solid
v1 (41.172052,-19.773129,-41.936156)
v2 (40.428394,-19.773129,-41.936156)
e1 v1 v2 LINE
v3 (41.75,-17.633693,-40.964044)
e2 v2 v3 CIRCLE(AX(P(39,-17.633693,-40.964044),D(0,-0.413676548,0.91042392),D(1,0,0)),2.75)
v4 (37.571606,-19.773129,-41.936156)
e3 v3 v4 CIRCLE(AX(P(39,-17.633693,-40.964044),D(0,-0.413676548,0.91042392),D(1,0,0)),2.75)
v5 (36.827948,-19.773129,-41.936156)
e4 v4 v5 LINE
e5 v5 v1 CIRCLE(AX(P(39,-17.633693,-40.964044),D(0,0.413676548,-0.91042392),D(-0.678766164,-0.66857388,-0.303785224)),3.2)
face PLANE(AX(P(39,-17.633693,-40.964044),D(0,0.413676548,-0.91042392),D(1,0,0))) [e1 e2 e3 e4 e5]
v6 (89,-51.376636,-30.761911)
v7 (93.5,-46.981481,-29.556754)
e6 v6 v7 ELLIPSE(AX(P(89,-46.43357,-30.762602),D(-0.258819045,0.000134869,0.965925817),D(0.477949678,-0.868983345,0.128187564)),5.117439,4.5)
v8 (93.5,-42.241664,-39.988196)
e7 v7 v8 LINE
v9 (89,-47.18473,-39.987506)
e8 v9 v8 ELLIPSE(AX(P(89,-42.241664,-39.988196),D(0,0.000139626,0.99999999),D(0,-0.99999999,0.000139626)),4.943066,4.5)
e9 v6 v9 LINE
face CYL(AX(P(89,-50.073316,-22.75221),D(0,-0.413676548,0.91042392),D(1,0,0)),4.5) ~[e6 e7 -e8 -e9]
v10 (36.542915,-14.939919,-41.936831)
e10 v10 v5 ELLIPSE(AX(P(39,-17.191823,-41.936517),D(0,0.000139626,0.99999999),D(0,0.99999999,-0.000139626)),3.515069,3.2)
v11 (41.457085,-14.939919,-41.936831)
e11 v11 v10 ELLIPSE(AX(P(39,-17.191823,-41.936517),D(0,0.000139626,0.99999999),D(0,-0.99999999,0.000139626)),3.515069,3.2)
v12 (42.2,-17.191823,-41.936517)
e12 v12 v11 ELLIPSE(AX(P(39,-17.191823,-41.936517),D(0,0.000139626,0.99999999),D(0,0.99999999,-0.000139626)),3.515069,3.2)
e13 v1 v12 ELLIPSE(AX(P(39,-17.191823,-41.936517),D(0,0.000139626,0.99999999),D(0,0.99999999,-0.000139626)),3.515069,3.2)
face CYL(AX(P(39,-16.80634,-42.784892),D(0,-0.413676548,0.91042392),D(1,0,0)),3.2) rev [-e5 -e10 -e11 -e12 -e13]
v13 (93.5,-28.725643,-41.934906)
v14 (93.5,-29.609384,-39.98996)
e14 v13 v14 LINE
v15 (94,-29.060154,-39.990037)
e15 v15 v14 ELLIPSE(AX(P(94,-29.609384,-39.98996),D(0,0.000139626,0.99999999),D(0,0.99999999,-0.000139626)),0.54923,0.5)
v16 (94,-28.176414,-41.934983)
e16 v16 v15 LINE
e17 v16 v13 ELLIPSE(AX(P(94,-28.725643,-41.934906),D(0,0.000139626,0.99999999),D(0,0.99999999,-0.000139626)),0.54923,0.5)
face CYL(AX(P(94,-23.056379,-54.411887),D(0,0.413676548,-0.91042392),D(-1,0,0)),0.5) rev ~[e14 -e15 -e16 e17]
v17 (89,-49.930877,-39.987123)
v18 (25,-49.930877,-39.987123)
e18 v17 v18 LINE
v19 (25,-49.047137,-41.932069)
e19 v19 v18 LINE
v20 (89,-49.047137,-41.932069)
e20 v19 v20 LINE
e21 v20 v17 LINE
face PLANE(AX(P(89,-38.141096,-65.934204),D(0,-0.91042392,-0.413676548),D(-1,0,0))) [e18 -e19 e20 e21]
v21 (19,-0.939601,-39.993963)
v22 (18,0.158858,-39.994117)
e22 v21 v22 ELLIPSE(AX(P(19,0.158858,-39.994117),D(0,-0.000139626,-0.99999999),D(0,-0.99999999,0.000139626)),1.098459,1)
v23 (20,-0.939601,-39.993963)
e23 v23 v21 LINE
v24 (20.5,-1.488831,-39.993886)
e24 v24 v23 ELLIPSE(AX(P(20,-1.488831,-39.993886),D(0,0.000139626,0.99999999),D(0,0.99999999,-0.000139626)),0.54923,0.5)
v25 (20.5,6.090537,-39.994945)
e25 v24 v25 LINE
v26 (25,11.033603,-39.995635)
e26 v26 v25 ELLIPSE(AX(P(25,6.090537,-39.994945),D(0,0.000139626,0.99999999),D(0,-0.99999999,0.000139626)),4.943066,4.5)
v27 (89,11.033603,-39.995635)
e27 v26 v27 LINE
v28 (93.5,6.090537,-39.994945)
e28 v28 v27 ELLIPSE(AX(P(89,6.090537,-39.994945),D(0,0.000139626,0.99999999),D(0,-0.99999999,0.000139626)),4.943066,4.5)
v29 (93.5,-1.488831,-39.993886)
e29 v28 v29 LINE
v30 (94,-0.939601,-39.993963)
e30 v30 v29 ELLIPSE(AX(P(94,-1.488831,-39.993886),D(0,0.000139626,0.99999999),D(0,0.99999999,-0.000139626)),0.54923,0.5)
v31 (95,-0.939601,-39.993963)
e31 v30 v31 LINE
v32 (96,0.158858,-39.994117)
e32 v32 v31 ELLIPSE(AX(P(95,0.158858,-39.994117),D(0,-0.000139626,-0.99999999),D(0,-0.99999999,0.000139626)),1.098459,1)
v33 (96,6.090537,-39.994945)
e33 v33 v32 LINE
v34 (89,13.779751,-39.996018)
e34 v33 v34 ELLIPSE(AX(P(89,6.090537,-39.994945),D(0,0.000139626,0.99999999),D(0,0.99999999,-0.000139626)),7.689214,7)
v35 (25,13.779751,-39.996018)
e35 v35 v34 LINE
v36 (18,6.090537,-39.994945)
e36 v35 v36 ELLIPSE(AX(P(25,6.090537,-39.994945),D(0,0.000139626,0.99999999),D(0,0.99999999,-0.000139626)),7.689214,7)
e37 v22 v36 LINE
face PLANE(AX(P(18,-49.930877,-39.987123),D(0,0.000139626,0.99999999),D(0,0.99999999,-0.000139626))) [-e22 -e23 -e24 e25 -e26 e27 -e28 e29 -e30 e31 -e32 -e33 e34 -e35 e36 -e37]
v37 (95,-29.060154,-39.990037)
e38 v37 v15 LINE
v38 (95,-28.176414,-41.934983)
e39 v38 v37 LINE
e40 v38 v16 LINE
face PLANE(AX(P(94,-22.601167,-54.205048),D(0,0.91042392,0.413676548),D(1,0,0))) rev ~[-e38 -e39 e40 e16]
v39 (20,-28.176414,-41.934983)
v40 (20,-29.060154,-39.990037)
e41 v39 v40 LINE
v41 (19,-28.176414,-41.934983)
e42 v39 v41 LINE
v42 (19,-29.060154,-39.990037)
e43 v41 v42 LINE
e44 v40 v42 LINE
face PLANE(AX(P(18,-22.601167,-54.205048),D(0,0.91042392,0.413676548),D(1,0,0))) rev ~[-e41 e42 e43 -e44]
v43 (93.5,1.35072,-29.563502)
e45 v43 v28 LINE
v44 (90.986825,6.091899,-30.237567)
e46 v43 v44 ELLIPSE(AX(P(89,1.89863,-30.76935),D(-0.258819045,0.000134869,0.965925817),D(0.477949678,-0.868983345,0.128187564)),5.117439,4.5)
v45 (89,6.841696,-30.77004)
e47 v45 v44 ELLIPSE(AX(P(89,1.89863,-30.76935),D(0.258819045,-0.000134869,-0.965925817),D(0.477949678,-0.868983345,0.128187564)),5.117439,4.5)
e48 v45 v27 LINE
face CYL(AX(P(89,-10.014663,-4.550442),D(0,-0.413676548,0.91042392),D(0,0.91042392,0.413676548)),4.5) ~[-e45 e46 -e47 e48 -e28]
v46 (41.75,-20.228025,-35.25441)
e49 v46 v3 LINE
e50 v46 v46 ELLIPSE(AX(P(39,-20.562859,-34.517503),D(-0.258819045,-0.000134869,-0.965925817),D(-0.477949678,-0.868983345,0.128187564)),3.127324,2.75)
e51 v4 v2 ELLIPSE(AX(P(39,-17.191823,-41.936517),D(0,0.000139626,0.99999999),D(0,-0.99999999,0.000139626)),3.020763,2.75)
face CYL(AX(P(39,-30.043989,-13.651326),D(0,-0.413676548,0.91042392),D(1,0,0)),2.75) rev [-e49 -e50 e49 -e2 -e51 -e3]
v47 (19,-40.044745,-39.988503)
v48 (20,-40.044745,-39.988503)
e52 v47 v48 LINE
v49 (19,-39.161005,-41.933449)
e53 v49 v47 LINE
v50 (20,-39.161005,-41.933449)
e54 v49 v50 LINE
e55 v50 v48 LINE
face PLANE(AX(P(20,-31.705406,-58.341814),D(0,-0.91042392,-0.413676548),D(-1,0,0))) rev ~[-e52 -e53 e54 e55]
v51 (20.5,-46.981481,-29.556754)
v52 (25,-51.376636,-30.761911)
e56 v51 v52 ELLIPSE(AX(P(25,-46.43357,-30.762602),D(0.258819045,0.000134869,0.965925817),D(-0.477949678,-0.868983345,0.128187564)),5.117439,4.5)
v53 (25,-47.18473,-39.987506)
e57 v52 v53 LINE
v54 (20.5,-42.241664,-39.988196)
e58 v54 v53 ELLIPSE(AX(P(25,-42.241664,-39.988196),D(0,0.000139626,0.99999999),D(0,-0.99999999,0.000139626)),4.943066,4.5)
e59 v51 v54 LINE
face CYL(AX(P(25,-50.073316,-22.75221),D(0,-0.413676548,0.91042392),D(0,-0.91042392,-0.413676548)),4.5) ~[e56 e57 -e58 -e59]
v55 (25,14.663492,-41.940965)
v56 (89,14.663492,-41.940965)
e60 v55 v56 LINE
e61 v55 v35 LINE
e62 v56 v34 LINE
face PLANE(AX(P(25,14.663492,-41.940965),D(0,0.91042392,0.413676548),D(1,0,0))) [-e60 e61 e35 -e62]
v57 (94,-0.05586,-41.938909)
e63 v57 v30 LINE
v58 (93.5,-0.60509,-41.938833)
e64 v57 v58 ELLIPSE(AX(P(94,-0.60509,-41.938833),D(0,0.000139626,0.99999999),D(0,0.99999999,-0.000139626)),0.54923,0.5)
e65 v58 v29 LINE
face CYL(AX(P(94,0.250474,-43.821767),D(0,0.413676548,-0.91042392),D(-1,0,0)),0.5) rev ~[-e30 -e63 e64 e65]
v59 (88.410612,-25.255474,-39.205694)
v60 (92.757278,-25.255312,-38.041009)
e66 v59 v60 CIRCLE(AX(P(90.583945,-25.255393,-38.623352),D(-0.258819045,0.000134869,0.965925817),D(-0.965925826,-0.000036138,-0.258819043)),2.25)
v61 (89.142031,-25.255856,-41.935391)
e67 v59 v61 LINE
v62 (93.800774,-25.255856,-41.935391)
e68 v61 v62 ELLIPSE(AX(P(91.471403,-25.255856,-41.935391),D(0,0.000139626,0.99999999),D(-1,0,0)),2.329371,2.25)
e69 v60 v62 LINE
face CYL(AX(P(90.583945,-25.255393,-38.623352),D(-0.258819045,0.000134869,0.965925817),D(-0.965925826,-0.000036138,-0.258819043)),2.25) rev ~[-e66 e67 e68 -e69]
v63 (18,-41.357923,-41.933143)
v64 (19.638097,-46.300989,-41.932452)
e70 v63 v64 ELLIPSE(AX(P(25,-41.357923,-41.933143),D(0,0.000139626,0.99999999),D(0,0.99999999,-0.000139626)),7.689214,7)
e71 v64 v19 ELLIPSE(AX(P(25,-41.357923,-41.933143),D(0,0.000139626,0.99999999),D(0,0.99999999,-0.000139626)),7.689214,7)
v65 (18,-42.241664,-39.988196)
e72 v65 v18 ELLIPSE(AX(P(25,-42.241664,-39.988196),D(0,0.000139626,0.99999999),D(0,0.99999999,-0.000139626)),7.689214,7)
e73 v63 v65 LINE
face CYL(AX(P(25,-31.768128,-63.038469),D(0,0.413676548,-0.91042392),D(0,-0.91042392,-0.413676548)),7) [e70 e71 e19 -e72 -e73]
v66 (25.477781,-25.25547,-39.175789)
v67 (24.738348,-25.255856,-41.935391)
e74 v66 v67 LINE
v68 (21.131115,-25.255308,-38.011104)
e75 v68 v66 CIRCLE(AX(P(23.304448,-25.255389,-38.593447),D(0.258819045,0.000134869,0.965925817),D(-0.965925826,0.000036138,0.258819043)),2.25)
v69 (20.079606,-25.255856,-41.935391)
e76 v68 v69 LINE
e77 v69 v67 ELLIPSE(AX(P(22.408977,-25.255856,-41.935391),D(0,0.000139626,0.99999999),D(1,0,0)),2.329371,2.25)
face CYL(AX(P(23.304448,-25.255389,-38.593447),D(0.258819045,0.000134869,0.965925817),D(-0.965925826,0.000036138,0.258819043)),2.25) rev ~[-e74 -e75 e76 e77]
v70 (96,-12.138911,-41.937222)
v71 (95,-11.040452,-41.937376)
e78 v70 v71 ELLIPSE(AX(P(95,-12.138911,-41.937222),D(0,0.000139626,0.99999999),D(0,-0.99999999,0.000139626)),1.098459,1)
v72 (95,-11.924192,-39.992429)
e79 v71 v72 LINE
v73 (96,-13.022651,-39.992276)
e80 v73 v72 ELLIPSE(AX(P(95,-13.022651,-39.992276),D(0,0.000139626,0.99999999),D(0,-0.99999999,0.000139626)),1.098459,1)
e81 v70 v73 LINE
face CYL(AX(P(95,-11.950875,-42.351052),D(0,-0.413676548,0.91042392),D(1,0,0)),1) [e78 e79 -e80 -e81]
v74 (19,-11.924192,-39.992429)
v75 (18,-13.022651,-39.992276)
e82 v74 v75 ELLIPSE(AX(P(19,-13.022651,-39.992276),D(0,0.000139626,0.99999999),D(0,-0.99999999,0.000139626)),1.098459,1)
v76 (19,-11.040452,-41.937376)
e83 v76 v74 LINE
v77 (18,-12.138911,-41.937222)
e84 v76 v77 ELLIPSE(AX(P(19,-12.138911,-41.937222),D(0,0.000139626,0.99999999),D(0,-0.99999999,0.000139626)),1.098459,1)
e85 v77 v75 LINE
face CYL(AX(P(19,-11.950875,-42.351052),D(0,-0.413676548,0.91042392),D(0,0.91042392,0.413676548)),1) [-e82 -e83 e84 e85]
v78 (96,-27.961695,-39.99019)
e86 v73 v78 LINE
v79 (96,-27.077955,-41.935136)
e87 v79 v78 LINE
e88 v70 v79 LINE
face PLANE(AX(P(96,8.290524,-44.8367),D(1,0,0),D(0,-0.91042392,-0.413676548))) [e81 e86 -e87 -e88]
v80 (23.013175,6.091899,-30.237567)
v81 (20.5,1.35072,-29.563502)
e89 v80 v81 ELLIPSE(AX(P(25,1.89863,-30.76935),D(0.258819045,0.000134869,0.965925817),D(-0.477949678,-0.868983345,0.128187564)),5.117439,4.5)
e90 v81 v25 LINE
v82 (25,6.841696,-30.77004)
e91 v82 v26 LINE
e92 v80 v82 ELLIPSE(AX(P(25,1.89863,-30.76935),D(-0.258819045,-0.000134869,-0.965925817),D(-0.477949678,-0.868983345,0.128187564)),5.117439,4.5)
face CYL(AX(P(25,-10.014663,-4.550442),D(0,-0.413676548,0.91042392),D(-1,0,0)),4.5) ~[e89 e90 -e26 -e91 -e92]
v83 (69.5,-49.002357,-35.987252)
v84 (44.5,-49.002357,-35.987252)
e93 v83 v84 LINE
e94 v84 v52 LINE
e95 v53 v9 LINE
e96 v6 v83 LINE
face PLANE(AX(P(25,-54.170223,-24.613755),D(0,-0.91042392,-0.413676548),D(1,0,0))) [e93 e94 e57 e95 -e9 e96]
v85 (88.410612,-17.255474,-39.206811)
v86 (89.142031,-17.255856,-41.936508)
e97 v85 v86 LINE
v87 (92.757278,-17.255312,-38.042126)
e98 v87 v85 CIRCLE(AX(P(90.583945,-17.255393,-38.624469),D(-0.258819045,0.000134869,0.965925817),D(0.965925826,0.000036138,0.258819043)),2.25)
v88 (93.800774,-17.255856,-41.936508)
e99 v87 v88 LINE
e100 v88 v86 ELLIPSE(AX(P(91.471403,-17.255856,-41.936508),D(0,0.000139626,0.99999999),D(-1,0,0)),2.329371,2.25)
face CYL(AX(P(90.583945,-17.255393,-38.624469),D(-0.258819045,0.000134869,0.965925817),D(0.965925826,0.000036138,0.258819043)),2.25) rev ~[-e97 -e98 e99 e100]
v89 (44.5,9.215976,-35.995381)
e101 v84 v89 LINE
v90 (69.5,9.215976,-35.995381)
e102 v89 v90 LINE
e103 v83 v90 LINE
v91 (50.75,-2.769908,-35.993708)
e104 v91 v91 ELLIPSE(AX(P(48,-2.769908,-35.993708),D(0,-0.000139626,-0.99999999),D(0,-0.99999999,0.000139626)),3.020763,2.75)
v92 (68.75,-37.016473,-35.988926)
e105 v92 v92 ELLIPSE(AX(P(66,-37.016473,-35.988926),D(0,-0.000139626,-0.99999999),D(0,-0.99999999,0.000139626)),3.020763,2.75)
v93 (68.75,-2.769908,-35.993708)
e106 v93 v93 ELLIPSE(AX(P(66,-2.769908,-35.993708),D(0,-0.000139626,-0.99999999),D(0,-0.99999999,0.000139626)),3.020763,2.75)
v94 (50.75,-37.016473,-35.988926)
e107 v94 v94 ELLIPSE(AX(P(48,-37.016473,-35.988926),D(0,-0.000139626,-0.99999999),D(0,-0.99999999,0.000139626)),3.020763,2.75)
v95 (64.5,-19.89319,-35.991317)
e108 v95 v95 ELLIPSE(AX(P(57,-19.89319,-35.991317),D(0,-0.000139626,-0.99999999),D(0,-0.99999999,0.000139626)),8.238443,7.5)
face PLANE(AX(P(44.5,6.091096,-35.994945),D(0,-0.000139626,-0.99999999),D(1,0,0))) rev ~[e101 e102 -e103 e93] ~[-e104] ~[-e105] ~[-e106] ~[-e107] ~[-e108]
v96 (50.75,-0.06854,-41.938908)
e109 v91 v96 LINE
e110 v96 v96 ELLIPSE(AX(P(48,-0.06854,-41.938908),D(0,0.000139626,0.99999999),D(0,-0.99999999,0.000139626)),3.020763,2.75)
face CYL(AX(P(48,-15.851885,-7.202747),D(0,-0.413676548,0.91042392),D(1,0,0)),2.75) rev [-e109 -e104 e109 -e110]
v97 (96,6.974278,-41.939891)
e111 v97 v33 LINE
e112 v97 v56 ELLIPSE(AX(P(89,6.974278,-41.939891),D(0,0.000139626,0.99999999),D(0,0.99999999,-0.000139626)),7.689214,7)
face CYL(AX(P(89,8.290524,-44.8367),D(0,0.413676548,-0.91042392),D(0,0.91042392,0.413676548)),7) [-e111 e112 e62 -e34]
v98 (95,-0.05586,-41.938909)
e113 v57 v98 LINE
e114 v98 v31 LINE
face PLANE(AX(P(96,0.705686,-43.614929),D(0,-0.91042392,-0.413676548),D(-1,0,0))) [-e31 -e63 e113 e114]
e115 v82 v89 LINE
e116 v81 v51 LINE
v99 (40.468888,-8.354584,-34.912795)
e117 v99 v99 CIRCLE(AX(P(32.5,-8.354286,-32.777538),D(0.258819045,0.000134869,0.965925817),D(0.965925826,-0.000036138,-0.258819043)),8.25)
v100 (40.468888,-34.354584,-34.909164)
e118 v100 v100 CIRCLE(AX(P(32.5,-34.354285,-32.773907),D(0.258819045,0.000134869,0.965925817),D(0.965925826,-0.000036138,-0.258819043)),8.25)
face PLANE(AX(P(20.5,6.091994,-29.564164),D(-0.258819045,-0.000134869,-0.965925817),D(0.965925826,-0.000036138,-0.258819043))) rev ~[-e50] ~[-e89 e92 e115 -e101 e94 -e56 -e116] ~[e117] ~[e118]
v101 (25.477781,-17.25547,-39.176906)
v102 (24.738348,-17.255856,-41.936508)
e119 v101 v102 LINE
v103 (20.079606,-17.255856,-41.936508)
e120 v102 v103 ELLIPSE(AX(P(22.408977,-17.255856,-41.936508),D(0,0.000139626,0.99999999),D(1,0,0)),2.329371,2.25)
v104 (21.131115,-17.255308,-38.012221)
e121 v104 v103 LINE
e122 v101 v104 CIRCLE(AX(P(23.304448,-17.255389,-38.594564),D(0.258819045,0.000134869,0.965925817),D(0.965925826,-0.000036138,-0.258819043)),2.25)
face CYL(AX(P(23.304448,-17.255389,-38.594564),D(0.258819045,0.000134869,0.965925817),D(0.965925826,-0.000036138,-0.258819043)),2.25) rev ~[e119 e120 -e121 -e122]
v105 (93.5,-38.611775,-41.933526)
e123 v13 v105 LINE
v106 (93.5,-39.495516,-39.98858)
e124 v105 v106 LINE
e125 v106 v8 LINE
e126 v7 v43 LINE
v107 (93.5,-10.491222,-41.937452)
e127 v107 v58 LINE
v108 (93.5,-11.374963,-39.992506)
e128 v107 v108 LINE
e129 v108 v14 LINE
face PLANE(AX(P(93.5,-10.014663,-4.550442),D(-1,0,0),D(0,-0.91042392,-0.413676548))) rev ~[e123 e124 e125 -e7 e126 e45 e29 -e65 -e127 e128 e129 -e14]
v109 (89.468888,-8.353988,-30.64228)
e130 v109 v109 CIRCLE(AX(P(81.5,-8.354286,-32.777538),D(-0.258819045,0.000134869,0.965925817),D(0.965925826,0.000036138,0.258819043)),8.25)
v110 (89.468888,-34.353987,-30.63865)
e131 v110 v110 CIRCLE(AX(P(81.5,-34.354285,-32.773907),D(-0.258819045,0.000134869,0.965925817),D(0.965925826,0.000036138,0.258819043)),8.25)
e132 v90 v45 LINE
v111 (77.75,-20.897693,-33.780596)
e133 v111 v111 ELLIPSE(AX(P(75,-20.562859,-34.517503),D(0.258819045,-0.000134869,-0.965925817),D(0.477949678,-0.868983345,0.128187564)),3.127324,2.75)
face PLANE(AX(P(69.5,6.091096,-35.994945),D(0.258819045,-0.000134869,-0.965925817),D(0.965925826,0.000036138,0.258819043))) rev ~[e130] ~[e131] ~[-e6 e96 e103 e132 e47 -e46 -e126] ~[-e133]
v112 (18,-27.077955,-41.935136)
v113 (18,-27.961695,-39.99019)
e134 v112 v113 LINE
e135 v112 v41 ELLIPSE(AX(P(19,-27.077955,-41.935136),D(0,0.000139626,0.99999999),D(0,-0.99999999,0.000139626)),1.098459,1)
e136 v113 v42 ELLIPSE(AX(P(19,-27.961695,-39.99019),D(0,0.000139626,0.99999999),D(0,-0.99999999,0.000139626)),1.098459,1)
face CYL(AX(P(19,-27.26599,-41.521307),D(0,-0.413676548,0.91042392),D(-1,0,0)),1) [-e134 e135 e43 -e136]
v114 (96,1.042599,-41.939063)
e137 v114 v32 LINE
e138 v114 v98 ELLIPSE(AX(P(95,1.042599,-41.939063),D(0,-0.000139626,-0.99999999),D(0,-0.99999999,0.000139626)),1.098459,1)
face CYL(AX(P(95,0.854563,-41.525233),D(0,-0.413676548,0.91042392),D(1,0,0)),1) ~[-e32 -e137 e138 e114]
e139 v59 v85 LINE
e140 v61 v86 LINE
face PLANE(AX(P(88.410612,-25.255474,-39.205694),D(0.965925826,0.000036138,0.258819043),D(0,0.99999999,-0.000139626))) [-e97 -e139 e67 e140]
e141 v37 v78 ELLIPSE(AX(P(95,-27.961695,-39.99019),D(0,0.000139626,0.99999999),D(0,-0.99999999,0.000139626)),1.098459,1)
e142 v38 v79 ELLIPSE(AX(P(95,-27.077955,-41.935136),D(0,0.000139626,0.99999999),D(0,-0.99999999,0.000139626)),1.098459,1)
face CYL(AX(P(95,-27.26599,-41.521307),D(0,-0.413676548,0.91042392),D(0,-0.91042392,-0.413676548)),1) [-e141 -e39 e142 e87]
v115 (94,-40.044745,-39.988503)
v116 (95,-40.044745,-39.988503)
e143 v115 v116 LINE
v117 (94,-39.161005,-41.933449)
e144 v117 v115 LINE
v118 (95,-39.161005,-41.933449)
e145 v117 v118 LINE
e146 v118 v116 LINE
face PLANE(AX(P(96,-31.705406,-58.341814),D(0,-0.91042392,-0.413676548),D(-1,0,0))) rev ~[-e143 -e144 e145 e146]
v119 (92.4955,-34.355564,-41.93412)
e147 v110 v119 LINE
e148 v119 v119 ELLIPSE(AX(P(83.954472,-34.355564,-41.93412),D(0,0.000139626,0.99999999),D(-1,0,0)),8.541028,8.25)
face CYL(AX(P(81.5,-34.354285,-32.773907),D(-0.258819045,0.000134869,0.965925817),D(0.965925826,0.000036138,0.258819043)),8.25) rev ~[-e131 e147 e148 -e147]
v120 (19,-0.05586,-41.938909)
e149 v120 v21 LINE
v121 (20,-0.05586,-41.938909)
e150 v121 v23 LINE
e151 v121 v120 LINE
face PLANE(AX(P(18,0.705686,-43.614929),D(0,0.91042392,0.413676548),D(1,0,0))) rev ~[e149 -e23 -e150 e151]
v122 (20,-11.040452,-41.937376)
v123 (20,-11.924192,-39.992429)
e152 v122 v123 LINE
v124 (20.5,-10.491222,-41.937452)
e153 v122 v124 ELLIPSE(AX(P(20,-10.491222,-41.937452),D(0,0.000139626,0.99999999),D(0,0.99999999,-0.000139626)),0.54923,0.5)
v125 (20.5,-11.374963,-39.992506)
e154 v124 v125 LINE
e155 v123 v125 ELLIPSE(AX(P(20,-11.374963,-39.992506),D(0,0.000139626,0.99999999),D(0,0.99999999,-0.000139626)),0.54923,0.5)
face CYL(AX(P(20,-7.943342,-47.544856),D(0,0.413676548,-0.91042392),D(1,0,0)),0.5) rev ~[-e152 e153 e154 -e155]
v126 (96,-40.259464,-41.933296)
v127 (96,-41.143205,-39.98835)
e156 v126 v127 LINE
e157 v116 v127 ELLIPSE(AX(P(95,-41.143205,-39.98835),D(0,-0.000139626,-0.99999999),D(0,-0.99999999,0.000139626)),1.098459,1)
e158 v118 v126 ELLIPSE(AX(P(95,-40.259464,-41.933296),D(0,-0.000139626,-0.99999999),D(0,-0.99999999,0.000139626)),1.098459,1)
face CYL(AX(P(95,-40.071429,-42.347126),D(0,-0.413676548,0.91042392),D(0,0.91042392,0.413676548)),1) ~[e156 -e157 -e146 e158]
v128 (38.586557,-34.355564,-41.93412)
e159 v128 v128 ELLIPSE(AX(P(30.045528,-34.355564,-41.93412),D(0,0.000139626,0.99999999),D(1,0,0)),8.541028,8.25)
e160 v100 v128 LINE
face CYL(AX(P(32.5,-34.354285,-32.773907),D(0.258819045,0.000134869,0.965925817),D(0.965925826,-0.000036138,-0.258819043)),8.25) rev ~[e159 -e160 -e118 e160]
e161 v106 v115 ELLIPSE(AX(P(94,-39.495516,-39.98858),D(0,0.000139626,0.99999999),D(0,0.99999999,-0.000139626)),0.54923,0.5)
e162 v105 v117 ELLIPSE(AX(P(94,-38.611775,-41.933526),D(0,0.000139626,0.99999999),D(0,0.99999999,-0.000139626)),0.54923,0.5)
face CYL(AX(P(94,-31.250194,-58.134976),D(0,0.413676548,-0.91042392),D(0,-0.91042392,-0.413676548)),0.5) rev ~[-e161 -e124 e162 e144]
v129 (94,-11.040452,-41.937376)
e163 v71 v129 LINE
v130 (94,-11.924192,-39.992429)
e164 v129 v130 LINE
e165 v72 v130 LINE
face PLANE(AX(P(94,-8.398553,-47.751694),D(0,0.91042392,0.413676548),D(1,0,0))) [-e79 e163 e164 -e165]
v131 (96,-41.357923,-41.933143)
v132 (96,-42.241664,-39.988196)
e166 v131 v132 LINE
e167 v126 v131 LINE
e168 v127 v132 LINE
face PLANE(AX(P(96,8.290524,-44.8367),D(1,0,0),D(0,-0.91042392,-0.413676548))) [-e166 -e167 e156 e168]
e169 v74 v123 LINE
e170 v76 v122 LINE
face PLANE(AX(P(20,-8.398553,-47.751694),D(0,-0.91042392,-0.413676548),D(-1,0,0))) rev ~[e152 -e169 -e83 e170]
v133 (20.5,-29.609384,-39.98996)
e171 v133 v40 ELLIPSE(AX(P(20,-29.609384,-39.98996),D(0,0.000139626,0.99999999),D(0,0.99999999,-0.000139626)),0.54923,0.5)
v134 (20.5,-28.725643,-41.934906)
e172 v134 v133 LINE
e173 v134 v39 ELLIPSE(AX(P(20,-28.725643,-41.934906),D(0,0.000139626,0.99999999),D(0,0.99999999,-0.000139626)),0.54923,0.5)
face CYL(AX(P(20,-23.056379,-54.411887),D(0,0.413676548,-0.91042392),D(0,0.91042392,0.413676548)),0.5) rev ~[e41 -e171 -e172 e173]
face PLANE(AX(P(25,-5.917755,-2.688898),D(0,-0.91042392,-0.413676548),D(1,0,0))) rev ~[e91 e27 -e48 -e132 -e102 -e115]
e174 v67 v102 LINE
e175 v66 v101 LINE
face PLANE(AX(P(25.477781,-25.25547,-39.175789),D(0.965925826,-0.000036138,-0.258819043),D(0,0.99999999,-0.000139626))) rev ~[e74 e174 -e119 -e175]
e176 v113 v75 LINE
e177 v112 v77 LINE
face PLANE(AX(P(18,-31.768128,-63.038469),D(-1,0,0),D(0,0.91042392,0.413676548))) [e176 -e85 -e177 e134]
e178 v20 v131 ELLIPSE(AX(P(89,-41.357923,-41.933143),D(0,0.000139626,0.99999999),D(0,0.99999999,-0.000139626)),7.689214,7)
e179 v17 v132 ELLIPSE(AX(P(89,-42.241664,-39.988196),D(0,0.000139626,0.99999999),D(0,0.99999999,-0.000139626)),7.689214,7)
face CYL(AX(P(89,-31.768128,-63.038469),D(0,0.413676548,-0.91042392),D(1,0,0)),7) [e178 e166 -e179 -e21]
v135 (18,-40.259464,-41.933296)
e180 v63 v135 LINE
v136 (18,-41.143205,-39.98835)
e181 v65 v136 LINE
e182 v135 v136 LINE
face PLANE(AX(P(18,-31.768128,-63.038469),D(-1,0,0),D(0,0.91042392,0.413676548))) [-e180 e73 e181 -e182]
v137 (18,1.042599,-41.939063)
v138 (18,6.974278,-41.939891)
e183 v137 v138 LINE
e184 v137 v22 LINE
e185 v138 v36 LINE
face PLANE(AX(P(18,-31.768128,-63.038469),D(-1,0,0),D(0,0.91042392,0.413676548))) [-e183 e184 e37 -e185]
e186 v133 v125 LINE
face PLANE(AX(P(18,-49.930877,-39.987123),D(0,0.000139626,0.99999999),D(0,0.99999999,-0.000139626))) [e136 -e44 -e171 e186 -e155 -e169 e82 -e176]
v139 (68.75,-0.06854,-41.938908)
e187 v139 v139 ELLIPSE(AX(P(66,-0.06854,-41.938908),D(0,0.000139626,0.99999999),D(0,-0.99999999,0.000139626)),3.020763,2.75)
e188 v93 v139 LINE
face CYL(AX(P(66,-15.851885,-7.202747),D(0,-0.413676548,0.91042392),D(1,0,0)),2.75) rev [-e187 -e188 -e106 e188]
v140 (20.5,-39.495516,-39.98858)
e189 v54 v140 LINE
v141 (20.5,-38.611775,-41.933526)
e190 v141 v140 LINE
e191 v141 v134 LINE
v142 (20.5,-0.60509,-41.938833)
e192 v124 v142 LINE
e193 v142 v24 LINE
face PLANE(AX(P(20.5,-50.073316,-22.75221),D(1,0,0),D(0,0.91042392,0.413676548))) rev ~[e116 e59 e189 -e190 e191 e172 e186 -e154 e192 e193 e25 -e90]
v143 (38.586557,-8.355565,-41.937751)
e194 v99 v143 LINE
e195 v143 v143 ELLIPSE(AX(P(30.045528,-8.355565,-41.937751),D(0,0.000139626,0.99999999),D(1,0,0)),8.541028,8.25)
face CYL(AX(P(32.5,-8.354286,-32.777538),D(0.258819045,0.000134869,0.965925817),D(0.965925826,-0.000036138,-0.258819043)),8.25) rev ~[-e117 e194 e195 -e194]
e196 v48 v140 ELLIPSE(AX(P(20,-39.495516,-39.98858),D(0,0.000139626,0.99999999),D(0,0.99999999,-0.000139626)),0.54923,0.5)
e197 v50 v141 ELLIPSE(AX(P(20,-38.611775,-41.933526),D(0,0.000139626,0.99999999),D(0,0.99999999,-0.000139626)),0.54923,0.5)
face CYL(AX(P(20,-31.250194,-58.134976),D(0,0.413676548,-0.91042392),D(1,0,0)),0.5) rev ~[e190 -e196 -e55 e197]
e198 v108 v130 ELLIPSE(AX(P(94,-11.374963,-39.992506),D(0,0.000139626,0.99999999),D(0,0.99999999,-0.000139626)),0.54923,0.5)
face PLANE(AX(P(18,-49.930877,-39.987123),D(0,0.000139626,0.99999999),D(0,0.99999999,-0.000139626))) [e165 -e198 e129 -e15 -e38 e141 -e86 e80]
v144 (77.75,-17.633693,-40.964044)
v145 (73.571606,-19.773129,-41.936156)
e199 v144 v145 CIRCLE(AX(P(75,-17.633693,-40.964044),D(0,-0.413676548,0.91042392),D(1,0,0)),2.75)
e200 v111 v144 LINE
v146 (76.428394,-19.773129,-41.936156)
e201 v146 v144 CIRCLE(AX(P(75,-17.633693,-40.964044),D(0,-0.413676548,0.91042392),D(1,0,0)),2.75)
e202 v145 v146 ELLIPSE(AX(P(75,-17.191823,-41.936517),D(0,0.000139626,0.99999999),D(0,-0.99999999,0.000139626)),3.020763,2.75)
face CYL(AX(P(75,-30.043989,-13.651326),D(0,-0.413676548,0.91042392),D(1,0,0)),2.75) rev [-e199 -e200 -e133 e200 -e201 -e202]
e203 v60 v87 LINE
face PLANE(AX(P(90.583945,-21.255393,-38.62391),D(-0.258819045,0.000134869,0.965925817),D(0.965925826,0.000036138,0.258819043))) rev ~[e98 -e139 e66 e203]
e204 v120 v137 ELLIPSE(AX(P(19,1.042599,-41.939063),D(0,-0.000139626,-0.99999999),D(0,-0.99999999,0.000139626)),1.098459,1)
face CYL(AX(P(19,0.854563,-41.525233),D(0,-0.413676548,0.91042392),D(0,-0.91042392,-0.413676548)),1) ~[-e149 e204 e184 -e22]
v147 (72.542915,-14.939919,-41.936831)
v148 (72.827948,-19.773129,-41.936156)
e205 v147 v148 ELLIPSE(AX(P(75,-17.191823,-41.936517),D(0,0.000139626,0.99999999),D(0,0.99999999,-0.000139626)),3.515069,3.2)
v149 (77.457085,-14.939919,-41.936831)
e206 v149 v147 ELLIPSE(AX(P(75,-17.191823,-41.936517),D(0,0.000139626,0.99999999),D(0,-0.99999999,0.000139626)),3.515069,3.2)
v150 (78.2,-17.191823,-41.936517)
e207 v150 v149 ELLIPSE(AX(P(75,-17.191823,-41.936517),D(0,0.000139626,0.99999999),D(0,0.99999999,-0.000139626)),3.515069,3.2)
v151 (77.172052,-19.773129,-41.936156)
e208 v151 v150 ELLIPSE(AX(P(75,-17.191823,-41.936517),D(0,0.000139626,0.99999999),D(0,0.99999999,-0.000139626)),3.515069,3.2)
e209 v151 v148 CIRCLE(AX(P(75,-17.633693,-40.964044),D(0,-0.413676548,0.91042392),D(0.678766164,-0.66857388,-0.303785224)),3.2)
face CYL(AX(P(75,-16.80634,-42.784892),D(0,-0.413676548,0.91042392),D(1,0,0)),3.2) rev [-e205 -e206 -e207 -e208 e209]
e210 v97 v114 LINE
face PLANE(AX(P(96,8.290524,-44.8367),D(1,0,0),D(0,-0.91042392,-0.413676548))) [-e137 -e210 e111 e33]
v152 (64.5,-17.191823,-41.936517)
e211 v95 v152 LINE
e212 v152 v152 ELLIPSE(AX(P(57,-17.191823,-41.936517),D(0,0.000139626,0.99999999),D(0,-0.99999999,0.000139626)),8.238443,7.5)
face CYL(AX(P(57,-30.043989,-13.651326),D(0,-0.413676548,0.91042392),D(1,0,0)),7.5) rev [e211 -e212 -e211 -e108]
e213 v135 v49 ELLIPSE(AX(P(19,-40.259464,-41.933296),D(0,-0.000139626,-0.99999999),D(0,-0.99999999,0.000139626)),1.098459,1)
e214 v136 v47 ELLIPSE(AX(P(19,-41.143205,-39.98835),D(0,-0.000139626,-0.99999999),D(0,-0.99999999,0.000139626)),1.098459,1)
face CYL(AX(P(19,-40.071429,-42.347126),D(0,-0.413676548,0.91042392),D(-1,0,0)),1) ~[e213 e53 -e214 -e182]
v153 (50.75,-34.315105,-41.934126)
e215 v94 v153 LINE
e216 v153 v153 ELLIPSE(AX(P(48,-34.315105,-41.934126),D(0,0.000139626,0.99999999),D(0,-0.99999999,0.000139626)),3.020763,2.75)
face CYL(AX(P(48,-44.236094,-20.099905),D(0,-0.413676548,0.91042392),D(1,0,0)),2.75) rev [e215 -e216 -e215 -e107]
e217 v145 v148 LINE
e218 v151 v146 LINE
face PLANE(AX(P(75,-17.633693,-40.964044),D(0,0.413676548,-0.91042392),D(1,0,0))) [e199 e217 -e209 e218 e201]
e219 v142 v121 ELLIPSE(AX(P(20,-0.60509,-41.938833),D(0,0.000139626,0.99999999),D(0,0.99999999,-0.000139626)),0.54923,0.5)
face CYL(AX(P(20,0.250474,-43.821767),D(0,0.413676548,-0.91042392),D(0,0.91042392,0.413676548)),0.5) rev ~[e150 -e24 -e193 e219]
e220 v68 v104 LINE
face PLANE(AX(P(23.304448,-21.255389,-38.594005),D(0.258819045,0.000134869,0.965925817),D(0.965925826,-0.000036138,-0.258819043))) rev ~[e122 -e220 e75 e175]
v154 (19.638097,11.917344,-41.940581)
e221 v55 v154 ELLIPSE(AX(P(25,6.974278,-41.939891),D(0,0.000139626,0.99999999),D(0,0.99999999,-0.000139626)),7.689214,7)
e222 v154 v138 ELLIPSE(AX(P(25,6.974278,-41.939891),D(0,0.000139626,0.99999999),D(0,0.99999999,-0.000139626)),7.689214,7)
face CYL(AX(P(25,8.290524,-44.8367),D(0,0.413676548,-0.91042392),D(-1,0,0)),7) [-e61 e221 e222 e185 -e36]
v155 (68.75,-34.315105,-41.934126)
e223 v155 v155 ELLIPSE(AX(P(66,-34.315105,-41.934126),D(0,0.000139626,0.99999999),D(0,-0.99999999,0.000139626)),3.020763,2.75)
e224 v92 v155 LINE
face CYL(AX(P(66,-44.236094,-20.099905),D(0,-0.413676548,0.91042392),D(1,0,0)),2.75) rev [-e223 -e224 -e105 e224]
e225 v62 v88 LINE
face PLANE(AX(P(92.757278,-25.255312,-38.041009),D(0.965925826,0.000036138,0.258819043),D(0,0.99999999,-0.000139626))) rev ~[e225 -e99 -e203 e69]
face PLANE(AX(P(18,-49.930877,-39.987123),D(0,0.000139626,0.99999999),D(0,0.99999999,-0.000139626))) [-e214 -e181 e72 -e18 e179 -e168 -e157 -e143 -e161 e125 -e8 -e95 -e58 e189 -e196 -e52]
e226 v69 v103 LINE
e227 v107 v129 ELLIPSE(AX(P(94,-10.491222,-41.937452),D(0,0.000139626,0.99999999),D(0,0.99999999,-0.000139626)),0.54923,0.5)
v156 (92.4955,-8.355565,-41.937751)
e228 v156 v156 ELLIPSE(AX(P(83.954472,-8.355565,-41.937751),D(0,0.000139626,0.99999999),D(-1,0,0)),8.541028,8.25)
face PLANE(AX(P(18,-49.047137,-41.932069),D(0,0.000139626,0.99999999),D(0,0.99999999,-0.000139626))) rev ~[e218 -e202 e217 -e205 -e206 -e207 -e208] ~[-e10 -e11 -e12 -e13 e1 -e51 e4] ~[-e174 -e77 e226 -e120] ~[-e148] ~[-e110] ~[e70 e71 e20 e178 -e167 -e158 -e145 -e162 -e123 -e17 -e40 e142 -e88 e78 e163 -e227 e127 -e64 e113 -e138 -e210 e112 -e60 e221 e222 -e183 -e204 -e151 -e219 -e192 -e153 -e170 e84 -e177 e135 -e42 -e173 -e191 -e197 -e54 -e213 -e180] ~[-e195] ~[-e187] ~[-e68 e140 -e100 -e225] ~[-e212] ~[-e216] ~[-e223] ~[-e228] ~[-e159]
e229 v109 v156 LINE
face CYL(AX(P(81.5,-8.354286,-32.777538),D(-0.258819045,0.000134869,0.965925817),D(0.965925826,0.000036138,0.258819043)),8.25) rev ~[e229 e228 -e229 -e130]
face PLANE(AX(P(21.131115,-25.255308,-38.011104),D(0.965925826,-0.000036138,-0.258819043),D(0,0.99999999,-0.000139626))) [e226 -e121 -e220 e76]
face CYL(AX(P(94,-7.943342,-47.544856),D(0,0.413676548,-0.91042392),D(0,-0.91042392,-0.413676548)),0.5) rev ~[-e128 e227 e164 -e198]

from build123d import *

# Parameters (mm, degrees)
PAD033_DEPTH            = 28.5
POCKET033_DEPTH         = 80
PAD034_DEPTH            = 44
POCKET034_DEPTH         = 80
POCKET035_DEPTH         = 65
POCKET035_DEPTH_BACK    = 100
SKETCH079_R             = 8.25
POCKET036_DEPTH         = 15
SKETCH080_R             = 8.25
POCKET037_DEPTH         = 19
POCKET038_DEPTH         = 14
POCKET039_DEPTH         = 12
SKETCH083_R             = 7.5
SKETCH083_R_2           = 2.75
POCKET040_DEPTH         = 50
SKETCH103_R             = 3.2
POCKET059_DEPTH         = 2
POCKET059_DEPTH_BACK    = 100
POCKET060_DEPTH         = 40
FILLET001_R             = 1
BODY016_PLACEMENT_ANGLE = 204.436


with BuildPart() as part:
    # Sketch074 → Pad033 (new body)
    with BuildSketch(Plane.XY.offset(44.25)):
        with BuildLine():
            Line((25, 4), (89, 4))
            ThreePointArc((89, 4), (93.9497474683, 6.0502525317), (96, 11))
            Line((96, 11), (96, 55))
            ThreePointArc((96, 55), (93.9497474683, 59.9497474683), (89, 62))
            Line((89, 62), (25, 62))
            ThreePointArc((25, 62), (20.0502525317, 59.9497474683), (18, 55))
            Line((18, 55), (18, 11))
            ThreePointArc((18, 11), (20.0502525317, 6.0502525317), (25, 4))
        make_face()
    extrude(amount=-PAD033_DEPTH)

    # Sketch075 (on Face7 of Pad033) → Pocket033 (cut)
    with BuildSketch(Plane(origin=(18, 0, 0), x_dir=(0, -1, 0), z_dir=(-1, 0, 0))):
        Polygon((-62, 15.75), (-4, 42.1136915968), (-4, 15.75), align=None)
        Polygon((-62, 17.8863084032), (-4, 44.25), (-62, 44.25), align=None)
    extrude(amount=-POCKET033_DEPTH, mode=Mode.SUBTRACT)

    # Sketch076 → Pad034 (join)
    with BuildSketch(Plane.XY):
        with BuildLine():
            ThreePointArc((20.5, 11), (21.8180194847, 7.8180194847), (25, 6.5))
            Line((25, 6.5), (89, 6.5))
            ThreePointArc((89, 6.5), (92.1819805153, 7.8180194847), (93.5, 11))
            Line((93.5, 11), (93.5, 55))
            ThreePointArc((93.5, 55), (92.1819805153, 58.1819805153), (89, 59.5))
            Line((25, 59.5), (89, 59.5))
            ThreePointArc((25, 59.5), (21.8180194847, 58.1819805153), (20.5, 55))
            Line((20.5, 55), (20.5, 11))
        make_face()
    extrude(amount=PAD034_DEPTH)

    # Sketch077 (on Face22 of Pad034) → Pocket034 (cut)
    with BuildSketch(Plane.YZ.offset(93.5)):
        Polygon((6.5, 43.1136339829), (59.5, 19.0226744203), (59.5, 44), (6.5, 44), align=None)
    extrude(amount=-POCKET034_DEPTH, mode=Mode.SUBTRACT)

    # Sketch078 (on DatumPlane) → Pocket035 (cut, two sides)
    with BuildSketch(Plane(origin=(96, 11, 38.9318667489), x_dir=(1, 0, 0), z_dir=(0, -0.9103661509, 0.4138036628))) as pocket035_sk:
        Polygon((-75.5, -10.4307806183), (-51.5, -4), (-26.5, -4), (-2.5, -10.4307806183), (-2.5, -38), (-75.5, -38), align=None)
    extrude(amount=-POCKET035_DEPTH, mode=Mode.SUBTRACT)
    extrude(pocket035_sk.sketch, amount=POCKET035_DEPTH_BACK, mode=Mode.SUBTRACT)

    # Sketch079 (on Face23 of Pocket035) → Pocket036 (cut)
    with BuildSketch(Plane(origin=(-6.0175887265, 9.2931806721, 20.4449546454), x_dir=(0.9659258263, 0.1071002689, 0.2356200979), z_dir=(0.2588190451, -0.3997036449, -0.8793461765))):
        with Locations((39.8763421354, -8.3497089553)):
            Circle(SKETCH079_R)
        with Locations((39.8763421354, -34.3497089553)):
            Circle(SKETCH079_R)
    extrude(amount=-POCKET036_DEPTH, mode=Mode.SUBTRACT)

    # Sketch080 (on Face27 of Pocket036) → Pocket037 (cut)
    with BuildSketch(Plane(origin=(13.6541407108, 21.0865850616, 46.3903899454), x_dir=(0.9659258263, -0.1071002689, -0.2356200979), z_dir=(-0.2588190451, -0.3997036449, -0.8793461765))):
        with Locations((70.2392020615, -8.3497089553)):
            Circle(SKETCH080_R)
        with Locations((70.2392020615, -34.3497089553)):
            Circle(SKETCH080_R)
    extrude(amount=-POCKET037_DEPTH, mode=Mode.SUBTRACT)

    # Sketch081 (on Face27 of Pocket037) → Pocket038 (cut)
    with BuildSketch(Plane(origin=(-8.0881410873, 12.4908098313, 27.4797240575), x_dir=(0.9659258263, 0.1071002689, 0.2356200979), z_dir=(0.2588190451, -0.3997036449, -0.8793461765))):
        with BuildLine():
            ThreePointArc((30.25, -25.25), (32.5, -27.5), (34.75, -25.25))
            Line((34.75, -25.25), (34.75, -17.25))
            ThreePointArc((34.75, -17.25), (32.5, -15), (30.25, -17.25))
            Line((30.25, -25.25), (30.25, -17.25))
        make_face()
    extrude(amount=-POCKET038_DEPTH, mode=Mode.SUBTRACT)

    # Sketch082 (on Face33 of Pocket038) → Pocket039 (cut)
    with BuildSketch(Plane(origin=(15.7246930716, 24.2842142208, 53.4251593575), x_dir=(0.9659258263, -0.1071002689, -0.2356200979), z_dir=(-0.2588190451, -0.3997036449, -0.8793461765))):
        with BuildLine():
            ThreePointArc((75.25, -25.25), (77.5, -27.5), (79.75, -25.25))
            Line((79.75, -25.25), (79.75, -17.25))
            ThreePointArc((79.75, -17.25), (77.5, -15), (75.25, -17.25))
            Line((75.25, -25.25), (75.25, -17.25))
        make_face()
    extrude(amount=-POCKET039_DEPTH, mode=Mode.SUBTRACT)

    # Sketch083 → Pocket040 (cut)
    with BuildSketch(Plane.XY):
        with Locations((57, 33)):
            Circle(SKETCH083_R)
        with Locations((48, 48.5884572681)):
            Circle(SKETCH083_R_2)
        with Locations((66, 48.5884572681)):
            Circle(SKETCH083_R_2)
        with Locations((75, 33)):
            Circle(SKETCH083_R_2)
        with Locations((39, 33)):
            Circle(SKETCH083_R_2)
        with Locations((48, 17.4115427319)):
            Circle(SKETCH083_R_2)
        with Locations((66, 17.4115427319)):
            Circle(SKETCH083_R_2)
    extrude(amount=POCKET040_DEPTH, mode=Mode.SUBTRACT)

    # Sketch103 → Pocket059 (cut, two sides)
    with BuildSketch(Plane.XY.offset(32)) as pocket059_sk:
        with Locations((39, 33)):
            Circle(SKETCH103_R)
        with Locations((75, 33)):
            Circle(SKETCH103_R)
    extrude(amount=-POCKET059_DEPTH, mode=Mode.SUBTRACT)
    extrude(pocket059_sk.sketch, amount=POCKET059_DEPTH_BACK, mode=Mode.SUBTRACT)

    # Sketch142 → Pocket060 (cut)
    with BuildSketch(Plane.XY.offset(40)):
        with BuildLine():
            Line((18, 17.4), (20, 17.4))
            ThreePointArc((20, 17.4), (20.3535533906, 17.5464466094), (20.5, 17.9))
            Line((20.5, 17.9), (20.5, 26.9))
            ThreePointArc((20.5, 26.9), (20.3535533906, 27.2535533906), (20, 27.4))
            Line((20, 27.4), (18, 27.4))
            Line((18, 27.4), (18, 17.4))
        make_face()
        with BuildLine():
            Line((18, 43), (20, 43))
            ThreePointArc((20, 43), (20.3535533906, 43.1464466094), (20.5, 43.5))
            Line((20.5, 43.5), (20.5, 52.5))
            ThreePointArc((20.5, 52.5), (20.3535533906, 52.8535533906), (20, 53))
            Line((20, 53), (18, 53))
            Line((18, 53), (18, 43))
        make_face()
        with BuildLine():
            Line((96, 53), (94, 53))
            ThreePointArc((94, 53), (93.6464466094, 52.8535533906), (93.5, 52.5))
            Line((93.5, 52.5), (93.5, 43.5))
            ThreePointArc((93.5, 43.5), (93.6464466094, 43.1464466094), (94, 43))
            Line((94, 43), (96, 43))
            Line((96, 43), (96, 53))
        make_face()
        with BuildLine():
            Line((96, 17.4), (94, 17.4))
            ThreePointArc((93.5, 17.9), (93.6464466094, 17.5464466094), (94, 17.4))
            Line((93.5, 17.9), (93.5, 26.9))
            ThreePointArc((94, 27.4), (93.6464466094, 27.2535533906), (93.5, 26.9))
            Line((94, 27.4), (96, 27.4))
            Line((96, 27.4), (96, 17.4))
        make_face()
    extrude(amount=-POCKET060_DEPTH, mode=Mode.SUBTRACT)

    # Fillet001
    fillet001_edges = [part.edges().sort_by_distance(p)[0] for p in [
        (18, 53, 20.909072),
        (18, 43, 25.454536),
        (18, 27.4, 32.54546),
        (18, 17.4, 37.090924),
        (96, 53, 20.909072),
        (96, 43, 25.454536),
        (96, 27.4, 32.54546),
        (96, 17.4, 37.090924),
    ]]
    fillet(fillet001_edges, radius=FILLET001_R)


with BuildPart() as part_1:
    # Body016 placement: moved
    add(part.part.rotate(Axis((0, 0, 0), (1, 0, 0)), BODY016_PLACEMENT_ANGLE))


solid = part_1.part
